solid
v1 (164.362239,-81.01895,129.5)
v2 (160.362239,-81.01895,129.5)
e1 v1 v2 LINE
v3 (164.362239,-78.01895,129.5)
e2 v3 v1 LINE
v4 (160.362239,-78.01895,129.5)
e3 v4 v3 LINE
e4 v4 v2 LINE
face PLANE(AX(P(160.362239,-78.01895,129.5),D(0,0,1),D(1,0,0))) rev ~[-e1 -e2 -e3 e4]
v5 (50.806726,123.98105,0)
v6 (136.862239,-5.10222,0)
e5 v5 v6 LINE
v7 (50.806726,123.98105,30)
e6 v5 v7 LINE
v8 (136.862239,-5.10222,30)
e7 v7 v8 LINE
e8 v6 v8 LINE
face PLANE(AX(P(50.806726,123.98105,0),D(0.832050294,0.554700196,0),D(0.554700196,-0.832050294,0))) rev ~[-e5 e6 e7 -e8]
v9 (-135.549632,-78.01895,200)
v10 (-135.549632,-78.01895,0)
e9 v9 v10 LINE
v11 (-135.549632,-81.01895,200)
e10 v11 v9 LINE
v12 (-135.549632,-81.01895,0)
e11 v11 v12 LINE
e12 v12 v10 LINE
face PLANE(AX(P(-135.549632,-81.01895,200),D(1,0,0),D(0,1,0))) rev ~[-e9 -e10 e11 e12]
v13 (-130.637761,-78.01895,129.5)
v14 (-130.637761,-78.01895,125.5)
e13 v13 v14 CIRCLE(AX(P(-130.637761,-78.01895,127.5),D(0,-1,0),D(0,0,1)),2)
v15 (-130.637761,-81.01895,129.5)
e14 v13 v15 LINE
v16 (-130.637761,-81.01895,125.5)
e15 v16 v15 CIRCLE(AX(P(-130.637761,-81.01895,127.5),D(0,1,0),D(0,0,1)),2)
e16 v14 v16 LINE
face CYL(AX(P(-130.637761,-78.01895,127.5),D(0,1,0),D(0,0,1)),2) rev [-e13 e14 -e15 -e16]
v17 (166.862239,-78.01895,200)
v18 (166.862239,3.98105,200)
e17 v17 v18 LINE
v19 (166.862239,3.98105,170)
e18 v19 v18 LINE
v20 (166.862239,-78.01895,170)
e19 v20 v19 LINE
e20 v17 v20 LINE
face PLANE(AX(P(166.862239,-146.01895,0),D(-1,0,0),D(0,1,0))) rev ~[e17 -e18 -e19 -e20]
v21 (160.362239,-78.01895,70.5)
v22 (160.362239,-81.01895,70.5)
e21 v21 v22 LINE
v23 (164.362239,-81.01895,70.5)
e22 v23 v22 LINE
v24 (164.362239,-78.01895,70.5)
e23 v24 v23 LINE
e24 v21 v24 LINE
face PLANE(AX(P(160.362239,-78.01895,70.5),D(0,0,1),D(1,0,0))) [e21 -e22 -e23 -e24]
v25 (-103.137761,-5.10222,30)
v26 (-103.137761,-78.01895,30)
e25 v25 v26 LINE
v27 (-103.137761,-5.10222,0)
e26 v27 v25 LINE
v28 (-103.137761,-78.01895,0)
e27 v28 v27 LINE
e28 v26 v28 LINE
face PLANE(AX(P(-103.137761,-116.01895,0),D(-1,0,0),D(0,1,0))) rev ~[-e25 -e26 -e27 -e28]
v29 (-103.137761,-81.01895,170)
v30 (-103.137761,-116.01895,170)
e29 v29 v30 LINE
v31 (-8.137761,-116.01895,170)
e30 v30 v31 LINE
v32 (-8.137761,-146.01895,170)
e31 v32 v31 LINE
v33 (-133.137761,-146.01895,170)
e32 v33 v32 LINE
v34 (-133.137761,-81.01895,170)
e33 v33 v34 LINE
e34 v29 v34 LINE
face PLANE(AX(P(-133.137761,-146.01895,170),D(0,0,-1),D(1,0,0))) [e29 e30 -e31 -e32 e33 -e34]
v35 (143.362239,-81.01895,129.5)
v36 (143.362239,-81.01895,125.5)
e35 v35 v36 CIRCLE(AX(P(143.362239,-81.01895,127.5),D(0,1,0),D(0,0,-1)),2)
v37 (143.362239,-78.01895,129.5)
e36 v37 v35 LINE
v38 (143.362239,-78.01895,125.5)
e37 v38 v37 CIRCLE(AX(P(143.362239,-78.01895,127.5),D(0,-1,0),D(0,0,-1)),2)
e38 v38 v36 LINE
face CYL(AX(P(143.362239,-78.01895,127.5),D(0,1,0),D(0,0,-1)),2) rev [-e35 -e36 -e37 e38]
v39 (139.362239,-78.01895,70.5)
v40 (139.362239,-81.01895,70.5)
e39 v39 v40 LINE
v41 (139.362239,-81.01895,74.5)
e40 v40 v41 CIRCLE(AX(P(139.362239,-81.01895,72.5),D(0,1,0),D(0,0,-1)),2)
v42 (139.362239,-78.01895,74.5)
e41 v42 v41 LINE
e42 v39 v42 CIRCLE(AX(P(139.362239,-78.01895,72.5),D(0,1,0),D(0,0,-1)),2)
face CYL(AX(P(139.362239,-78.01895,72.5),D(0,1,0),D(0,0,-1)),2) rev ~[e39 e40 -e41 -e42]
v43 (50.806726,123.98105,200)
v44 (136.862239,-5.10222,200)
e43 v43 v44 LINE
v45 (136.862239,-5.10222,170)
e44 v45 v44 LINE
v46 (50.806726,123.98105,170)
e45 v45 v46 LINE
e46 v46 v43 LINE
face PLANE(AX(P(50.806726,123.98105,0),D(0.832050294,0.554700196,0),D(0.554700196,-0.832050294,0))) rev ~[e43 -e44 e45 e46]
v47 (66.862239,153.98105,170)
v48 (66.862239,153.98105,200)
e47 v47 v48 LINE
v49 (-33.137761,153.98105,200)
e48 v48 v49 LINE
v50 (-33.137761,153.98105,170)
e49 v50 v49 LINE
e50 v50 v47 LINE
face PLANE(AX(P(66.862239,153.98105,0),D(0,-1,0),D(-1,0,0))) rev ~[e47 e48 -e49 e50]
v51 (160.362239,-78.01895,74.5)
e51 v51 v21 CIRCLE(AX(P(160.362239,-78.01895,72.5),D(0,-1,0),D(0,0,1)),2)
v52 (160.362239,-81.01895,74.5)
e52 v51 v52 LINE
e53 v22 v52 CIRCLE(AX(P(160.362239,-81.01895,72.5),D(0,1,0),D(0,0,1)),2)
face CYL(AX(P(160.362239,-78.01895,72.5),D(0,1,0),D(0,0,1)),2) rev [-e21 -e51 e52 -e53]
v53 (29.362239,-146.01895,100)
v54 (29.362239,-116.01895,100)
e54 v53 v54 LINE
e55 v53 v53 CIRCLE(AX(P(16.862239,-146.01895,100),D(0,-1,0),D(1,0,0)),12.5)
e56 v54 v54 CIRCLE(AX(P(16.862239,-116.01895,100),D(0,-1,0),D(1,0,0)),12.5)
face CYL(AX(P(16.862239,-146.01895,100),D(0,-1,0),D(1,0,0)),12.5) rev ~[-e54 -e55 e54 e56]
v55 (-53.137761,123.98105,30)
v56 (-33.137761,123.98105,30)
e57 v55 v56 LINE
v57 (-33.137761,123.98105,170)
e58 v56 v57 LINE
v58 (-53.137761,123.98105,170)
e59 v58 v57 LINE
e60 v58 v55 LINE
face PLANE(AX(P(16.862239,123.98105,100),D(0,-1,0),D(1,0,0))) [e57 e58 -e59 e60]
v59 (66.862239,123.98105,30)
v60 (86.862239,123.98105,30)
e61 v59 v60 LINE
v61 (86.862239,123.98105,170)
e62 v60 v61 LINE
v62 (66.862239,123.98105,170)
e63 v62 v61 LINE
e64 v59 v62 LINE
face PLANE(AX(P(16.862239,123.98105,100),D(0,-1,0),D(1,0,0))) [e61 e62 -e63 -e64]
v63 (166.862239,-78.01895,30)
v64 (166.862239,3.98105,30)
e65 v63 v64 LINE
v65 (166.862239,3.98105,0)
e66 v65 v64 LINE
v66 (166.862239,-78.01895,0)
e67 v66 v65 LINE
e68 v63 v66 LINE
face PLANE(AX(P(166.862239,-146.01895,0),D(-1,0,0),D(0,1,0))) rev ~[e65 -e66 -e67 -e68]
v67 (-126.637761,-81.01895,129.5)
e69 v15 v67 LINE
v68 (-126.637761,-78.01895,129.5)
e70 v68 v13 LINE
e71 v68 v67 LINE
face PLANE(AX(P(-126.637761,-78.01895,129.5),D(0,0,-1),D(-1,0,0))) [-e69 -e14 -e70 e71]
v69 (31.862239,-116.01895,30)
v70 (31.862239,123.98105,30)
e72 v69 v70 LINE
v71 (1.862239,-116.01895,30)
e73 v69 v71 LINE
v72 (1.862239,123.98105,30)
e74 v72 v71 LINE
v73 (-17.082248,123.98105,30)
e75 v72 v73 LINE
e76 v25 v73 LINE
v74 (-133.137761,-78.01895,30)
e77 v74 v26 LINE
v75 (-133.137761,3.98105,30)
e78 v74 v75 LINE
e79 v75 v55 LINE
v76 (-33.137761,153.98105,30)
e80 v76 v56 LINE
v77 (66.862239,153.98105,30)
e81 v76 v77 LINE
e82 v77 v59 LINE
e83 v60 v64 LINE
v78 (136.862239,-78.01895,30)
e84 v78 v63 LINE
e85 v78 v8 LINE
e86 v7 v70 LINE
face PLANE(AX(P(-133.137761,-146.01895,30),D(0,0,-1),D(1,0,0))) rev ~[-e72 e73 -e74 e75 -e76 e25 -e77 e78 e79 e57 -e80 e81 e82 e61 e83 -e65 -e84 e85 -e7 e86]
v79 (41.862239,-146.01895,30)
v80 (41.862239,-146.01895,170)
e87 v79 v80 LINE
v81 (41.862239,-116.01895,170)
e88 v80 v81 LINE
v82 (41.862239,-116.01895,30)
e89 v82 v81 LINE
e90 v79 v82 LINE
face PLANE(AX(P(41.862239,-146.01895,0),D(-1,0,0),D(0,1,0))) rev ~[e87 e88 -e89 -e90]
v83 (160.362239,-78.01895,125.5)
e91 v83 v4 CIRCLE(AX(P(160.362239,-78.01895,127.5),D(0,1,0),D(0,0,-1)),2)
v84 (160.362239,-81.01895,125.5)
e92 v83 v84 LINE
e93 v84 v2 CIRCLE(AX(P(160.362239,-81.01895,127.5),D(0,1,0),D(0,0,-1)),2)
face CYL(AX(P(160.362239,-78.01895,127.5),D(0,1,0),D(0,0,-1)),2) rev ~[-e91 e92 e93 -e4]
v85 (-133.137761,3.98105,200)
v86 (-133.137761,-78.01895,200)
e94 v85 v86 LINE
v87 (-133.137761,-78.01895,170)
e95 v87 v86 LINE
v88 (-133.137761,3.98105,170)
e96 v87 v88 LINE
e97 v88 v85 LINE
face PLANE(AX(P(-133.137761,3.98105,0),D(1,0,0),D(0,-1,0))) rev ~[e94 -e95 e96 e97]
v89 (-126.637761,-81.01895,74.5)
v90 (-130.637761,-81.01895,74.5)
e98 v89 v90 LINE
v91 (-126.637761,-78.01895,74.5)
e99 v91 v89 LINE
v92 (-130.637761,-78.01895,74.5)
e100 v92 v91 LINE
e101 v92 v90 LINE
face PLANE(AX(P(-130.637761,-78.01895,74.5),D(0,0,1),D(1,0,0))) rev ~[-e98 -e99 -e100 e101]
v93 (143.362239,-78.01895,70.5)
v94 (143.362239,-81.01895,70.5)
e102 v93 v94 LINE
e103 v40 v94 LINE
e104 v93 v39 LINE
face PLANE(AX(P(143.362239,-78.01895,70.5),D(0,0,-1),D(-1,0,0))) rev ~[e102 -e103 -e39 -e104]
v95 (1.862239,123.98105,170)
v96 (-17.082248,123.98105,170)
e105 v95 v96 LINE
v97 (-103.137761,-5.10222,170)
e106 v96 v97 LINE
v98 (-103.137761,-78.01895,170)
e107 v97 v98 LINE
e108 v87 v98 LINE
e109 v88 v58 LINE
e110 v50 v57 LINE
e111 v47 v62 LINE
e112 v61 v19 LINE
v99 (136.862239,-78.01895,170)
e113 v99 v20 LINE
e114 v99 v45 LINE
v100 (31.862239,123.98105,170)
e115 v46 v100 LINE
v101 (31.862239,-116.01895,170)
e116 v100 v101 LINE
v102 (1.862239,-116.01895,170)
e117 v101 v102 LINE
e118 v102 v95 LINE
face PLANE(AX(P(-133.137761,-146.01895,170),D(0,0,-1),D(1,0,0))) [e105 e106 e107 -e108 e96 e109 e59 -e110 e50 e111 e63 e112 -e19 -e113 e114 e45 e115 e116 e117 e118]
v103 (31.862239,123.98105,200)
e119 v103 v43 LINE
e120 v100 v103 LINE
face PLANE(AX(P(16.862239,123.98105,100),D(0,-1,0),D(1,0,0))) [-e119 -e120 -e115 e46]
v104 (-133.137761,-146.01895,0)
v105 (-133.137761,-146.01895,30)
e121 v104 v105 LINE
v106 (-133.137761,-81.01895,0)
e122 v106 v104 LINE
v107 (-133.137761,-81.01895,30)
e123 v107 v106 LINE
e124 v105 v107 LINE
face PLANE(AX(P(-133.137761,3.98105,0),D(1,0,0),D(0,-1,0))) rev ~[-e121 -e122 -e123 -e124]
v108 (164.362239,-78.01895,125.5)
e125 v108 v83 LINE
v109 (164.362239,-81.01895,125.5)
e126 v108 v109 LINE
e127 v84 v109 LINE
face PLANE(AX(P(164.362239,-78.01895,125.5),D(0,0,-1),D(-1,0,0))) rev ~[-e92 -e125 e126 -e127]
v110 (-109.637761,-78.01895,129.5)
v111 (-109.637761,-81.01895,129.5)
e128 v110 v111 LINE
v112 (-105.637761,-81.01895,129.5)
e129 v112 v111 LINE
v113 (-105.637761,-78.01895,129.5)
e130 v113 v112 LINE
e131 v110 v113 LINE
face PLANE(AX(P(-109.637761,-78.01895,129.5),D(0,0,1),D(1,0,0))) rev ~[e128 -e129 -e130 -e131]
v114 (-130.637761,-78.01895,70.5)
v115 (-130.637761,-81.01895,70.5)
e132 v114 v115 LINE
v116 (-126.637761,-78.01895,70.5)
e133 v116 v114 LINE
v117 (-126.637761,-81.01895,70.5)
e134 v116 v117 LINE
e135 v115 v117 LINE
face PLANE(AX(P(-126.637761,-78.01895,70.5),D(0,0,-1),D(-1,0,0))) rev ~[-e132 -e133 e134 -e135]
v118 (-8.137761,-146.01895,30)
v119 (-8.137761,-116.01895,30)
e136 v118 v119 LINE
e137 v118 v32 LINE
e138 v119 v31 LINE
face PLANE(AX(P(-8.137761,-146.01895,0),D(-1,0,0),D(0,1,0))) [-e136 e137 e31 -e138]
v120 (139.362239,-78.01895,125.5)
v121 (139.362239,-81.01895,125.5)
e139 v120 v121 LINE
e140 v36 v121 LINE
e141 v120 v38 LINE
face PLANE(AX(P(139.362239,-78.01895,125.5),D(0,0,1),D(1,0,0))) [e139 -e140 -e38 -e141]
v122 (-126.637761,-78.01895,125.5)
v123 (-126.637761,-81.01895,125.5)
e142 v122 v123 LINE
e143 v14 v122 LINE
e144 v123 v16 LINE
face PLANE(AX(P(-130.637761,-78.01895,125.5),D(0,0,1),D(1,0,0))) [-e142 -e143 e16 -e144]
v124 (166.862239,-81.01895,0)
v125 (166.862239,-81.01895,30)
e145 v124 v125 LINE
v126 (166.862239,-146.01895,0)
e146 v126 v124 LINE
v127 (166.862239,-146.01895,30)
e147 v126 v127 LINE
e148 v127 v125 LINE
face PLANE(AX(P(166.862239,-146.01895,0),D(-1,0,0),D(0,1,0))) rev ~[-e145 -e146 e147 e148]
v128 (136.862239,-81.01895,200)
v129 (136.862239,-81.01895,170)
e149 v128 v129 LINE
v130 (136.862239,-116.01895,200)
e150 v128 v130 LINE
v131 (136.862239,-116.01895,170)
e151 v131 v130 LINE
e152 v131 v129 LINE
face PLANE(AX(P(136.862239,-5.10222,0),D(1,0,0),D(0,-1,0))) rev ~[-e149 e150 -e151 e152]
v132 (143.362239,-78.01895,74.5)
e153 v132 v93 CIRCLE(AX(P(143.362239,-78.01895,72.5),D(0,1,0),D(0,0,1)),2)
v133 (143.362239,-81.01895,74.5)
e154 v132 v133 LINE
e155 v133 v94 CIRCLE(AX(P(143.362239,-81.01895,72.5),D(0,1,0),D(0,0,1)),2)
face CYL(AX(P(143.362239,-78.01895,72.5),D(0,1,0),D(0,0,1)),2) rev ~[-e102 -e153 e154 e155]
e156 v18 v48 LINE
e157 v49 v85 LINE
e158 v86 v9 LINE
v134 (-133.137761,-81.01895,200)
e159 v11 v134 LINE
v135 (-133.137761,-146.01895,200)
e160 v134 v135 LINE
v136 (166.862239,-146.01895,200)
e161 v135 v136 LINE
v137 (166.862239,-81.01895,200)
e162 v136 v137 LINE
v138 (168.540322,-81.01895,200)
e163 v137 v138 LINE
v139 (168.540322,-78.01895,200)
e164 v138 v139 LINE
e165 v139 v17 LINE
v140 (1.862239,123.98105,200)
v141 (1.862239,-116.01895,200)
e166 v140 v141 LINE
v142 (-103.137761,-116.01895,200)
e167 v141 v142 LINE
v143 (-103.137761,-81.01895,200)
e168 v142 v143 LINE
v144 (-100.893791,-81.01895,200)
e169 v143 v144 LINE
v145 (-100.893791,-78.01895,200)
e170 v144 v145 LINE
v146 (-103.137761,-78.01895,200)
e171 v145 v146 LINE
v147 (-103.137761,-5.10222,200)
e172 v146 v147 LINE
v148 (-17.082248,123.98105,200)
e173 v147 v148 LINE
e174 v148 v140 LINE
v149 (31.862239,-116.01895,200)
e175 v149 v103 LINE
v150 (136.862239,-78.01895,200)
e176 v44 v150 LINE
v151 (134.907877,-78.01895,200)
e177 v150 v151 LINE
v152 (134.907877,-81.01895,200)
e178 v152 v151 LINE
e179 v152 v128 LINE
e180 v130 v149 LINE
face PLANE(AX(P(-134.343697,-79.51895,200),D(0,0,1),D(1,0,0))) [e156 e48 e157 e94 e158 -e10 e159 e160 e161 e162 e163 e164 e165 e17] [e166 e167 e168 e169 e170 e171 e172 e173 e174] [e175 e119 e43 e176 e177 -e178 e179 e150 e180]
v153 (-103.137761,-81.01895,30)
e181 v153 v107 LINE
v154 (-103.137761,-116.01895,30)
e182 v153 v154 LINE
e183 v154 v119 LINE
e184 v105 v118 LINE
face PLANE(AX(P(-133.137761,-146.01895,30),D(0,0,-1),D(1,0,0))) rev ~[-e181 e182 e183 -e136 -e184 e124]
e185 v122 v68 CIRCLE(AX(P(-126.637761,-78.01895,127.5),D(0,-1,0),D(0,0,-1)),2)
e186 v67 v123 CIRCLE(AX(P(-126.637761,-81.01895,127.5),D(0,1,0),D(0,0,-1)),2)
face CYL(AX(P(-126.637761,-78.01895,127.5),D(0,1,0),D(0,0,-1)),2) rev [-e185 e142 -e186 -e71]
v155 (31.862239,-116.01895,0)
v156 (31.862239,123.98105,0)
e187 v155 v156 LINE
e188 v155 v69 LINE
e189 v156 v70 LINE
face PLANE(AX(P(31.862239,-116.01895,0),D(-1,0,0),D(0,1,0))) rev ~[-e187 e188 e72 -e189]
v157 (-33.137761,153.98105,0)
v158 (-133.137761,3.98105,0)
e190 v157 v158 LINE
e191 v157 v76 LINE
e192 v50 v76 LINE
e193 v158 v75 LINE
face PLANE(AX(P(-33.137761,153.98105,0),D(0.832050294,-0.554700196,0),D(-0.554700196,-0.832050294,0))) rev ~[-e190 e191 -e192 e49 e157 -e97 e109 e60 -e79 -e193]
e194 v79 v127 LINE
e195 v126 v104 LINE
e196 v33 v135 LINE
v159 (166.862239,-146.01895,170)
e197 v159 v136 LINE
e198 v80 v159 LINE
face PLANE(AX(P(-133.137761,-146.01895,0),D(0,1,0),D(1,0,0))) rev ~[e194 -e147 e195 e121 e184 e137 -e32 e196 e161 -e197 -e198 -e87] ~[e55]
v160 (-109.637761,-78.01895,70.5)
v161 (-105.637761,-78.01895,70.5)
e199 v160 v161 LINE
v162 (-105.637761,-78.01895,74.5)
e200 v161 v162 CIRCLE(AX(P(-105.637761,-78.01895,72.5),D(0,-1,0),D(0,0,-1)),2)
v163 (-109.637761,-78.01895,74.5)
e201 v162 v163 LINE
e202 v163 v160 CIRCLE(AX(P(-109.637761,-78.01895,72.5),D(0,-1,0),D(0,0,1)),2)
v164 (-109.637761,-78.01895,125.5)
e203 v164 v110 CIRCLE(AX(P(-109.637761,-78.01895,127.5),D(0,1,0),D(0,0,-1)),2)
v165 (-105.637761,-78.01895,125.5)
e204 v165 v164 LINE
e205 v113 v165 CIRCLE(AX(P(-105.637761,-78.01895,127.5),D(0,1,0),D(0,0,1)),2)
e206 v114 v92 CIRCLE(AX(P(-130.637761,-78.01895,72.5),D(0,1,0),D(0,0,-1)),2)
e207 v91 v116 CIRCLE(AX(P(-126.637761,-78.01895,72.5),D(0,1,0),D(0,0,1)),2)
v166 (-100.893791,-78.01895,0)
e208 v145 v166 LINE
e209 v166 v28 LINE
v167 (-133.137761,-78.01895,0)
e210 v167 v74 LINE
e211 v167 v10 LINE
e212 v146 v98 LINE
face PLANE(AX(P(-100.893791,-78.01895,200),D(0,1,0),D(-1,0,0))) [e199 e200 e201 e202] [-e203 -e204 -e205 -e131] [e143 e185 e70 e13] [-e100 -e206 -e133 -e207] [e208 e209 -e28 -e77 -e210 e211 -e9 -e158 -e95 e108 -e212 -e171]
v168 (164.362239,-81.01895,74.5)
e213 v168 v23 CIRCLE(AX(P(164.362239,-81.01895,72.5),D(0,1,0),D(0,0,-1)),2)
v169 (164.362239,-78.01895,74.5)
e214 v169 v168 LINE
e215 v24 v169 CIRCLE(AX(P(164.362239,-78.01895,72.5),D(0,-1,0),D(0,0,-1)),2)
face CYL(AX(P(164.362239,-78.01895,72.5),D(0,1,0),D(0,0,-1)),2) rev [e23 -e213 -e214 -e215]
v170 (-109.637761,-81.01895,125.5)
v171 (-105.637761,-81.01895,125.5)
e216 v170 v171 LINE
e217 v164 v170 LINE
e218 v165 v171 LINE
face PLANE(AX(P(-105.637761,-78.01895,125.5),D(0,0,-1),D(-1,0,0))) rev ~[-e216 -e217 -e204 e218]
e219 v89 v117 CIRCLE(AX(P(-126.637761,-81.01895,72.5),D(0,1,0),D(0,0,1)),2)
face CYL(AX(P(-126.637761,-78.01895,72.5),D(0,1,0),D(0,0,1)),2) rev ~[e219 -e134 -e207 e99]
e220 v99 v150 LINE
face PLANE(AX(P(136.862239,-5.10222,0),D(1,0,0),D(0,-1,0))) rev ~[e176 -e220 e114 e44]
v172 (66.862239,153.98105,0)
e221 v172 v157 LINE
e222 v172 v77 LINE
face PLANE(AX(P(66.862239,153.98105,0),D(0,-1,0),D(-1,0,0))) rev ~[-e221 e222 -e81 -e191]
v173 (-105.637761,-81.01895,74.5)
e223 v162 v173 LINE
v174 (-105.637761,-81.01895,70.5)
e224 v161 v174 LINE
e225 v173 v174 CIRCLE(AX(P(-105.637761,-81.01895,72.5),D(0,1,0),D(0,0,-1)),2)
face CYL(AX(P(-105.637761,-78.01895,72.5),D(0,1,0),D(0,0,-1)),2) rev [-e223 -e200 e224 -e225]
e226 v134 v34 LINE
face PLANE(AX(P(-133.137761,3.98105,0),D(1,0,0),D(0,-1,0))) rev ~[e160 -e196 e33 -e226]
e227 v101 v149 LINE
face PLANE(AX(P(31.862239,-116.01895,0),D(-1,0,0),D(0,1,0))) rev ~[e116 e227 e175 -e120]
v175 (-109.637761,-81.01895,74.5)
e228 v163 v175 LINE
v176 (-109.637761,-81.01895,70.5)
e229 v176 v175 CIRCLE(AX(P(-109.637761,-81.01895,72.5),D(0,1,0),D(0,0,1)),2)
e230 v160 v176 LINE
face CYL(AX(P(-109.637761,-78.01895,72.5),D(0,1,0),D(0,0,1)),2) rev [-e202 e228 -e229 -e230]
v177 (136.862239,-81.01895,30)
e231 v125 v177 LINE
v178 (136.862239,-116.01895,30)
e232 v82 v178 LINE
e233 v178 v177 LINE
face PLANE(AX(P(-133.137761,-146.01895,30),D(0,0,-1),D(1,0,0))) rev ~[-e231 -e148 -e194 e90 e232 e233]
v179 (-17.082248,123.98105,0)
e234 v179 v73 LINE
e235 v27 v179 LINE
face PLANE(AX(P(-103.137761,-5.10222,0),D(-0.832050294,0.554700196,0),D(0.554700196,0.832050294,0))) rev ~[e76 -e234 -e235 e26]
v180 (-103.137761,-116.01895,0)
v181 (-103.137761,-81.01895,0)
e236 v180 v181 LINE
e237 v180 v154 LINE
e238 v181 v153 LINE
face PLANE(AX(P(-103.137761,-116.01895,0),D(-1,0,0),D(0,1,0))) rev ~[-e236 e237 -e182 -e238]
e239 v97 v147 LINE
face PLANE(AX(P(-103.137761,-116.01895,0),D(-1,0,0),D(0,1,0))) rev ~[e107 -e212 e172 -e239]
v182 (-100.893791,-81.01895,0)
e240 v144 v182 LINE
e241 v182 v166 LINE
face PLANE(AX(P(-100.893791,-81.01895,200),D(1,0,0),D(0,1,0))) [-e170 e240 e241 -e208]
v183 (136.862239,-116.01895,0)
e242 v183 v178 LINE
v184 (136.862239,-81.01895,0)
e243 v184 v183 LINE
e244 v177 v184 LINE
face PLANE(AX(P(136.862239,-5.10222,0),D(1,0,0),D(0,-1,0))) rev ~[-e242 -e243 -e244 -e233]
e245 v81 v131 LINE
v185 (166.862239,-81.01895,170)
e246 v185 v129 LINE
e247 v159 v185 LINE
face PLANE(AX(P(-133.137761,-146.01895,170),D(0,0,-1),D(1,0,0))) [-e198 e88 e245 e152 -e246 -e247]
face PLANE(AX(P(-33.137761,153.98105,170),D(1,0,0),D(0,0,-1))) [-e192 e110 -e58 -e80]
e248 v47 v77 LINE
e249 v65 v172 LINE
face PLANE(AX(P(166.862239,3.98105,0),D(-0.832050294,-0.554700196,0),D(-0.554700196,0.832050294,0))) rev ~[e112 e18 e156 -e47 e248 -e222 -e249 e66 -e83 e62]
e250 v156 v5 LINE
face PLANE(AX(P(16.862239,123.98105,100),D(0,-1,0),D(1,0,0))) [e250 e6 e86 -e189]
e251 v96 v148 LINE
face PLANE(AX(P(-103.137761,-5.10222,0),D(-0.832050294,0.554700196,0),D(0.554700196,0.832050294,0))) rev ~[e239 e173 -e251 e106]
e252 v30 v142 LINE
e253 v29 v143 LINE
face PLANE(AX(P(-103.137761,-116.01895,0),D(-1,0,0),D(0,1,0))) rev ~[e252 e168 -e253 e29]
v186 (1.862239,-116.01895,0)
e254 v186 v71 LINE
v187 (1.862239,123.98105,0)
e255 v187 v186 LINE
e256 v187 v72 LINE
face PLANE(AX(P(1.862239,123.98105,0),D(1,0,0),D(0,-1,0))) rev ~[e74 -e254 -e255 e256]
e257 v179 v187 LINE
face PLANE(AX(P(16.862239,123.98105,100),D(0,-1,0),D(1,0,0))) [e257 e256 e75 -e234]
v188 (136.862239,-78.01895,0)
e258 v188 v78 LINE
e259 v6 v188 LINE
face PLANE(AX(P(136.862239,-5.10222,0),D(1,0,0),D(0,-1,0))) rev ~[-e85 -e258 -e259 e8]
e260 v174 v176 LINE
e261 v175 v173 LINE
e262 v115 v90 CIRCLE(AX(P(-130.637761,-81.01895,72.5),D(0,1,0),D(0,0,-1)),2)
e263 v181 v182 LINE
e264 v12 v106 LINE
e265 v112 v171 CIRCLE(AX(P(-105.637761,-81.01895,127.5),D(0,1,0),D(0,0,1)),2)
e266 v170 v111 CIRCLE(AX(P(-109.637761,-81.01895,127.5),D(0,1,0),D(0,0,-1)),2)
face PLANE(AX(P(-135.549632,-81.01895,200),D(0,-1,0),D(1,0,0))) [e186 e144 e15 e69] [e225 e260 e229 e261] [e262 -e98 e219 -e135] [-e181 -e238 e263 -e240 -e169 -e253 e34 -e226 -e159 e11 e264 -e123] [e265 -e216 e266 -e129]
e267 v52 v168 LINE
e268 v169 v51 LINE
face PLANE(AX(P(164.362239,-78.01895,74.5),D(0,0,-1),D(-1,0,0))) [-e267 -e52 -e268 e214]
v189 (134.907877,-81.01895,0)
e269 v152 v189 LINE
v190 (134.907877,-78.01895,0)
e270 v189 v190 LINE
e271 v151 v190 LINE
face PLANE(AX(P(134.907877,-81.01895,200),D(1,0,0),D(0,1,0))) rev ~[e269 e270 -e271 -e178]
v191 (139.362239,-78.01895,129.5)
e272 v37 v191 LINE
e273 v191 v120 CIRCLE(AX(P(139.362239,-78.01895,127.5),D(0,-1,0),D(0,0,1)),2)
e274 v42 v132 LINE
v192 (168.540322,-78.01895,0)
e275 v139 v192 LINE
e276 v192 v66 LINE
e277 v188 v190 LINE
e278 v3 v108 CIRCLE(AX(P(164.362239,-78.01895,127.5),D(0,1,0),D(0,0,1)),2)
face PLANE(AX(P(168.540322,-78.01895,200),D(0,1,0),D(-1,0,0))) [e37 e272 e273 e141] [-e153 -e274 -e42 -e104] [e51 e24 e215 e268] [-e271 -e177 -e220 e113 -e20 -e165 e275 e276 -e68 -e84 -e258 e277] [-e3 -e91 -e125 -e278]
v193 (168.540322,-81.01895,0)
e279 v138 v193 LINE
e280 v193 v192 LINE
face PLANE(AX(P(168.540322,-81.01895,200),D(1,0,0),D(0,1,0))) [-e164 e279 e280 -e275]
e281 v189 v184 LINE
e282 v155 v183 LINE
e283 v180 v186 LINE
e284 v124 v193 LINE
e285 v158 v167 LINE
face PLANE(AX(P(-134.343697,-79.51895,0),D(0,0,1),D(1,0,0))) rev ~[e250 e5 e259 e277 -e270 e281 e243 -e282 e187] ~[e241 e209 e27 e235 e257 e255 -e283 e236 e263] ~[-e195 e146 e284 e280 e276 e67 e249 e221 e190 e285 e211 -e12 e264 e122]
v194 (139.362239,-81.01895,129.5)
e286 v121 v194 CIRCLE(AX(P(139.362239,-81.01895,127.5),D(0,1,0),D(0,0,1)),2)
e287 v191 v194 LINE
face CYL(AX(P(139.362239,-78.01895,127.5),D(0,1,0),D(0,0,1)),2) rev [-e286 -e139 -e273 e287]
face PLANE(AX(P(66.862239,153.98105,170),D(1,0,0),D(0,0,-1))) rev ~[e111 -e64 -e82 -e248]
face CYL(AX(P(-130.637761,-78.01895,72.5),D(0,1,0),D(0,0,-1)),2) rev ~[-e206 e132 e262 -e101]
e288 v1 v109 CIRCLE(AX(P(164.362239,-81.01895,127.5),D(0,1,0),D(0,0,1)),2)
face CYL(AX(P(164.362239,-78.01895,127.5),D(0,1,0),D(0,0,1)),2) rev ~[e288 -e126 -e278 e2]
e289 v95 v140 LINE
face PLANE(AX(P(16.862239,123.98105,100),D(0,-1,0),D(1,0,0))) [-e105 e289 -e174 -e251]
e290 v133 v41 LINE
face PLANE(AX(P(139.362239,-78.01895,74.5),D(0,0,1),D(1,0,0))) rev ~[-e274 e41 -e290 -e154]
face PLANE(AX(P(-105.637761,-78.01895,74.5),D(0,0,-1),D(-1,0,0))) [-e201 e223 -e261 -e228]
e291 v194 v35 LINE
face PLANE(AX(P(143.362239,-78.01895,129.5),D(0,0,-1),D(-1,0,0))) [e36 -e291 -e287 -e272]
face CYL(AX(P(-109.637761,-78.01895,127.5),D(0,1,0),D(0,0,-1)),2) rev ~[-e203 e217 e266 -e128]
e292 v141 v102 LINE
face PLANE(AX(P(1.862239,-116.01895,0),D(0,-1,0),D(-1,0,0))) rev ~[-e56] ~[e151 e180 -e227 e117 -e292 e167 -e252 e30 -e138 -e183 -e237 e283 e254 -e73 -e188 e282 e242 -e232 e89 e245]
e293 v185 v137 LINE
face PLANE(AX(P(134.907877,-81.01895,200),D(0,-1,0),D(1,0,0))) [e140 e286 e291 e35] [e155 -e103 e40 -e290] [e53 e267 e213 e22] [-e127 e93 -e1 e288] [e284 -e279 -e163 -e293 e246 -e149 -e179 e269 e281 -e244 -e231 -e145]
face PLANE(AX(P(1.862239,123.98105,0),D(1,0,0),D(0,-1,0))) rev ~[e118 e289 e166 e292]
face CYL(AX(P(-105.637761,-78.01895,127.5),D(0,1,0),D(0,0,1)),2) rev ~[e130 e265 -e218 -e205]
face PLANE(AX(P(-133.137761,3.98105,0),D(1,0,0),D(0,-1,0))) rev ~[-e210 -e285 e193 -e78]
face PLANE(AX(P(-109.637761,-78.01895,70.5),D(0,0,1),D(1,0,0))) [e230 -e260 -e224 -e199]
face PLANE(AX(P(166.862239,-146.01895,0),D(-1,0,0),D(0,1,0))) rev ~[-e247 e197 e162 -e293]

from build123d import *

# Parameters (mm, degrees)
BOSS_EXTRUDE4_DEPTH = 200
SKETCH5_W           = 300
SKETCH5_H           = 140
CUT_EXTRUDE3_DEPTH  = 270
SKETCH6_W           = 2.411871081
SKETCH6_H           = 3
SKETCH6_W_2         = 30
SKETCH6_W_3         = 2.243969638
SKETCH6_W_4         = 1.678083374
SKETCH6_W_5         = 1.954362123
BOSS_EXTRUDE6_DEPTH = 200
SKETCH7_W           = 100
SKETCH7_H           = 140
CUT_EXTRUDE4_DEPTH  = 174
SKETCH9_W           = 50
SKETCH9_H           = 30
BOSS_EXTRUDE7_DEPTH = 193
SKETCH10_R          = 12.5
CUT_EXTRUDE5_DEPTH  = 193
CUT_EXTRUDE23_DEPTH = 10


with BuildPart() as part:
    # Sketch1 → Boss-Extrude4 (new body)
    with BuildSketch(Plane.XY):
        Polygon((1.862238879, 123.981049527), (1.862238879, 153.981049527), (-33.137761121, 153.981049527), (-133.137761121, 3.981049527), (-133.137761121, -146.018950473), (-53.137761121, -146.018950473), (86.862238879, -146.018950473), (166.862238879, -146.018950473), (166.862238879, 3.981049527), (66.862238879, 153.981049527), (31.862238879, 153.981049527), (31.862238879, 123.981049527), (50.806726124, 123.981049527), (136.862238879, -5.102219605), (136.862238879, -116.018950473), (31.862238879, -116.018950473), (31.862238879, -46.018950473), (1.862238879, -46.018950473), (1.862238879, -116.018950473), (-103.137761121, -116.018950473), (-103.137761121, -5.102219605), (-17.082248367, 123.981049527), align=None)
        Polygon((31.862238879, 153.981049527), (1.862238879, 153.981049527), (1.862238879, 123.981049527), (1.862238879, -46.018950473), (31.862238879, -46.018950473), (31.862238879, 123.981049527), align=None)
    extrude(amount=BOSS_EXTRUDE4_DEPTH)

    # Sketch5 → Cut-Extrude3 (cut)
    with BuildSketch(Plane.XZ.offset(146.018950473)):
        with Locations((16.862238879, 100)):
            Rectangle(SKETCH5_W, SKETCH5_H)
    extrude(amount=-CUT_EXTRUDE3_DEPTH, mode=Mode.SUBTRACT)

    # Sketch6 → Boss-Extrude6 (add)
    with BuildSketch(Plane.XY.offset(200)):
        with Locations((-134.343696662, -79.518950473)):
            Rectangle(SKETCH6_W, SKETCH6_H)
        with Locations((-118.137761121, -79.518950473)):
            Rectangle(SKETCH6_W_2, SKETCH6_H)
        with Locations((-102.015776302, -79.518950473)):
            Rectangle(SKETCH6_W_3, SKETCH6_H)
        with Locations((151.862238879, -79.518950473)):
            Rectangle(SKETCH6_W_2, SKETCH6_H)
        with Locations((167.701280566, -79.518950473)):
            Rectangle(SKETCH6_W_4, SKETCH6_H)
        with Locations((135.885057818, -79.518950473)):
            Rectangle(SKETCH6_W_5, SKETCH6_H)
    extrude(amount=-BOSS_EXTRUDE6_DEPTH)

    # Sketch7 → Cut-Extrude4 (cut)
    with BuildSketch(Plane(origin=(0, 153.981049527, 0), x_dir=(1, 0, 0), z_dir=(0, 1, 0))):
        with Locations((16.862238879, -100)):
            Rectangle(SKETCH7_W, SKETCH7_H)
    extrude(amount=-CUT_EXTRUDE4_DEPTH, mode=Mode.SUBTRACT)

    # Sketch9 → Boss-Extrude7 (add)
    with BuildSketch(Plane(origin=(0, 0, 0), x_dir=(-1, 0, 0), z_dir=(0, 0, -1))):
        with Locations((-16.862238879, -131.018950473)):
            Rectangle(SKETCH9_W, SKETCH9_H)
    extrude(amount=-BOSS_EXTRUDE7_DEPTH)

    # Sketch10 → Cut-Extrude5 (cut)
    with BuildSketch(Plane.XZ.offset(146.018950473)):
        with Locations((16.862238879, 100)):
            Circle(SKETCH10_R)
    extrude(amount=-CUT_EXTRUDE5_DEPTH, mode=Mode.SUBTRACT)

    # Sketch11 → Cut-Extrude23 (cut)
    with BuildSketch(Plane(origin=(0, -78.018950473, 0), x_dir=(1, 0, 0), z_dir=(0, 1, 0))):
        with BuildLine():
            Line((139.362238879, -125.5), (143.362238879, -125.5))
            ThreePointArc((143.362238879, -125.5), (145.362238879, -127.5), (143.362238879, -129.5))
            Line((143.362238879, -129.5), (139.362238879, -129.5))
            ThreePointArc((139.362238879, -129.5), (137.362238879, -127.5), (139.362238879, -125.5))
        make_face()
        with BuildLine():
            Line((164.362238879, -125.5), (160.362238879, -125.5))
            ThreePointArc((160.362238879, -125.5), (158.362238879, -127.5), (160.362238879, -129.5))
            Line((160.362238879, -129.5), (164.362238879, -129.5))
            ThreePointArc((164.362238879, -129.5), (166.362238879, -127.5), (164.362238879, -125.5))
        make_face()
        with BuildLine():
            Line((164.362238879, -74.5), (160.362238879, -74.5))
            ThreePointArc((160.362238879, -74.5), (158.362238879, -72.5), (160.362238879, -70.5))
            Line((160.362238879, -70.5), (164.362238879, -70.5))
            ThreePointArc((164.362238879, -70.5), (166.362238879, -72.5), (164.362238879, -74.5))
        make_face()
        with BuildLine():
            Line((139.362238879, -74.5), (143.362238879, -74.5))
            ThreePointArc((143.362238879, -74.5), (145.362238879, -72.5), (143.362238879, -70.5))
            Line((143.362238879, -70.5), (139.362238879, -70.5))
            ThreePointArc((139.362238879, -70.5), (137.362238879, -72.5), (139.362238879, -74.5))
        make_face()
        with BuildLine():
            Line((-130.637761121, -125.5), (-126.637761121, -125.5))
            ThreePointArc((-126.637761121, -125.5), (-124.637761121, -127.5), (-126.637761121, -129.5))
            Line((-126.637761121, -129.5), (-130.637761121, -129.5))
            ThreePointArc((-130.637761121, -129.5), (-132.637761121, -127.5), (-130.637761121, -125.5))
        make_face()
        with BuildLine():
            Line((-105.637761121, -125.5), (-109.637761121, -125.5))
            ThreePointArc((-109.637761121, -125.5), (-111.637761121, -127.5), (-109.637761121, -129.5))
            Line((-109.637761121, -129.5), (-105.637761121, -129.5))
            ThreePointArc((-105.637761121, -129.5), (-103.637761121, -127.5), (-105.637761121, -125.5))
        make_face()
        with BuildLine():
            Line((-130.637761121, -74.5), (-126.637761121, -74.5))
            ThreePointArc((-126.637761121, -74.5), (-124.637761121, -72.5), (-126.637761121, -70.5))
            Line((-126.637761121, -70.5), (-130.637761121, -70.5))
            ThreePointArc((-130.637761121, -70.5), (-132.637761121, -72.5), (-130.637761121, -74.5))
        make_face()
        with BuildLine():
            Line((-105.637761121, -74.5), (-109.637761121, -74.5))
            ThreePointArc((-109.637761121, -74.5), (-111.637761121, -72.5), (-109.637761121, -70.5))
            Line((-109.637761121, -70.5), (-105.637761121, -70.5))
            ThreePointArc((-105.637761121, -70.5), (-103.637761121, -72.5), (-105.637761121, -74.5))
        make_face()
    extrude(amount=-CUT_EXTRUDE23_DEPTH, mode=Mode.SUBTRACT)


solid = part.part
